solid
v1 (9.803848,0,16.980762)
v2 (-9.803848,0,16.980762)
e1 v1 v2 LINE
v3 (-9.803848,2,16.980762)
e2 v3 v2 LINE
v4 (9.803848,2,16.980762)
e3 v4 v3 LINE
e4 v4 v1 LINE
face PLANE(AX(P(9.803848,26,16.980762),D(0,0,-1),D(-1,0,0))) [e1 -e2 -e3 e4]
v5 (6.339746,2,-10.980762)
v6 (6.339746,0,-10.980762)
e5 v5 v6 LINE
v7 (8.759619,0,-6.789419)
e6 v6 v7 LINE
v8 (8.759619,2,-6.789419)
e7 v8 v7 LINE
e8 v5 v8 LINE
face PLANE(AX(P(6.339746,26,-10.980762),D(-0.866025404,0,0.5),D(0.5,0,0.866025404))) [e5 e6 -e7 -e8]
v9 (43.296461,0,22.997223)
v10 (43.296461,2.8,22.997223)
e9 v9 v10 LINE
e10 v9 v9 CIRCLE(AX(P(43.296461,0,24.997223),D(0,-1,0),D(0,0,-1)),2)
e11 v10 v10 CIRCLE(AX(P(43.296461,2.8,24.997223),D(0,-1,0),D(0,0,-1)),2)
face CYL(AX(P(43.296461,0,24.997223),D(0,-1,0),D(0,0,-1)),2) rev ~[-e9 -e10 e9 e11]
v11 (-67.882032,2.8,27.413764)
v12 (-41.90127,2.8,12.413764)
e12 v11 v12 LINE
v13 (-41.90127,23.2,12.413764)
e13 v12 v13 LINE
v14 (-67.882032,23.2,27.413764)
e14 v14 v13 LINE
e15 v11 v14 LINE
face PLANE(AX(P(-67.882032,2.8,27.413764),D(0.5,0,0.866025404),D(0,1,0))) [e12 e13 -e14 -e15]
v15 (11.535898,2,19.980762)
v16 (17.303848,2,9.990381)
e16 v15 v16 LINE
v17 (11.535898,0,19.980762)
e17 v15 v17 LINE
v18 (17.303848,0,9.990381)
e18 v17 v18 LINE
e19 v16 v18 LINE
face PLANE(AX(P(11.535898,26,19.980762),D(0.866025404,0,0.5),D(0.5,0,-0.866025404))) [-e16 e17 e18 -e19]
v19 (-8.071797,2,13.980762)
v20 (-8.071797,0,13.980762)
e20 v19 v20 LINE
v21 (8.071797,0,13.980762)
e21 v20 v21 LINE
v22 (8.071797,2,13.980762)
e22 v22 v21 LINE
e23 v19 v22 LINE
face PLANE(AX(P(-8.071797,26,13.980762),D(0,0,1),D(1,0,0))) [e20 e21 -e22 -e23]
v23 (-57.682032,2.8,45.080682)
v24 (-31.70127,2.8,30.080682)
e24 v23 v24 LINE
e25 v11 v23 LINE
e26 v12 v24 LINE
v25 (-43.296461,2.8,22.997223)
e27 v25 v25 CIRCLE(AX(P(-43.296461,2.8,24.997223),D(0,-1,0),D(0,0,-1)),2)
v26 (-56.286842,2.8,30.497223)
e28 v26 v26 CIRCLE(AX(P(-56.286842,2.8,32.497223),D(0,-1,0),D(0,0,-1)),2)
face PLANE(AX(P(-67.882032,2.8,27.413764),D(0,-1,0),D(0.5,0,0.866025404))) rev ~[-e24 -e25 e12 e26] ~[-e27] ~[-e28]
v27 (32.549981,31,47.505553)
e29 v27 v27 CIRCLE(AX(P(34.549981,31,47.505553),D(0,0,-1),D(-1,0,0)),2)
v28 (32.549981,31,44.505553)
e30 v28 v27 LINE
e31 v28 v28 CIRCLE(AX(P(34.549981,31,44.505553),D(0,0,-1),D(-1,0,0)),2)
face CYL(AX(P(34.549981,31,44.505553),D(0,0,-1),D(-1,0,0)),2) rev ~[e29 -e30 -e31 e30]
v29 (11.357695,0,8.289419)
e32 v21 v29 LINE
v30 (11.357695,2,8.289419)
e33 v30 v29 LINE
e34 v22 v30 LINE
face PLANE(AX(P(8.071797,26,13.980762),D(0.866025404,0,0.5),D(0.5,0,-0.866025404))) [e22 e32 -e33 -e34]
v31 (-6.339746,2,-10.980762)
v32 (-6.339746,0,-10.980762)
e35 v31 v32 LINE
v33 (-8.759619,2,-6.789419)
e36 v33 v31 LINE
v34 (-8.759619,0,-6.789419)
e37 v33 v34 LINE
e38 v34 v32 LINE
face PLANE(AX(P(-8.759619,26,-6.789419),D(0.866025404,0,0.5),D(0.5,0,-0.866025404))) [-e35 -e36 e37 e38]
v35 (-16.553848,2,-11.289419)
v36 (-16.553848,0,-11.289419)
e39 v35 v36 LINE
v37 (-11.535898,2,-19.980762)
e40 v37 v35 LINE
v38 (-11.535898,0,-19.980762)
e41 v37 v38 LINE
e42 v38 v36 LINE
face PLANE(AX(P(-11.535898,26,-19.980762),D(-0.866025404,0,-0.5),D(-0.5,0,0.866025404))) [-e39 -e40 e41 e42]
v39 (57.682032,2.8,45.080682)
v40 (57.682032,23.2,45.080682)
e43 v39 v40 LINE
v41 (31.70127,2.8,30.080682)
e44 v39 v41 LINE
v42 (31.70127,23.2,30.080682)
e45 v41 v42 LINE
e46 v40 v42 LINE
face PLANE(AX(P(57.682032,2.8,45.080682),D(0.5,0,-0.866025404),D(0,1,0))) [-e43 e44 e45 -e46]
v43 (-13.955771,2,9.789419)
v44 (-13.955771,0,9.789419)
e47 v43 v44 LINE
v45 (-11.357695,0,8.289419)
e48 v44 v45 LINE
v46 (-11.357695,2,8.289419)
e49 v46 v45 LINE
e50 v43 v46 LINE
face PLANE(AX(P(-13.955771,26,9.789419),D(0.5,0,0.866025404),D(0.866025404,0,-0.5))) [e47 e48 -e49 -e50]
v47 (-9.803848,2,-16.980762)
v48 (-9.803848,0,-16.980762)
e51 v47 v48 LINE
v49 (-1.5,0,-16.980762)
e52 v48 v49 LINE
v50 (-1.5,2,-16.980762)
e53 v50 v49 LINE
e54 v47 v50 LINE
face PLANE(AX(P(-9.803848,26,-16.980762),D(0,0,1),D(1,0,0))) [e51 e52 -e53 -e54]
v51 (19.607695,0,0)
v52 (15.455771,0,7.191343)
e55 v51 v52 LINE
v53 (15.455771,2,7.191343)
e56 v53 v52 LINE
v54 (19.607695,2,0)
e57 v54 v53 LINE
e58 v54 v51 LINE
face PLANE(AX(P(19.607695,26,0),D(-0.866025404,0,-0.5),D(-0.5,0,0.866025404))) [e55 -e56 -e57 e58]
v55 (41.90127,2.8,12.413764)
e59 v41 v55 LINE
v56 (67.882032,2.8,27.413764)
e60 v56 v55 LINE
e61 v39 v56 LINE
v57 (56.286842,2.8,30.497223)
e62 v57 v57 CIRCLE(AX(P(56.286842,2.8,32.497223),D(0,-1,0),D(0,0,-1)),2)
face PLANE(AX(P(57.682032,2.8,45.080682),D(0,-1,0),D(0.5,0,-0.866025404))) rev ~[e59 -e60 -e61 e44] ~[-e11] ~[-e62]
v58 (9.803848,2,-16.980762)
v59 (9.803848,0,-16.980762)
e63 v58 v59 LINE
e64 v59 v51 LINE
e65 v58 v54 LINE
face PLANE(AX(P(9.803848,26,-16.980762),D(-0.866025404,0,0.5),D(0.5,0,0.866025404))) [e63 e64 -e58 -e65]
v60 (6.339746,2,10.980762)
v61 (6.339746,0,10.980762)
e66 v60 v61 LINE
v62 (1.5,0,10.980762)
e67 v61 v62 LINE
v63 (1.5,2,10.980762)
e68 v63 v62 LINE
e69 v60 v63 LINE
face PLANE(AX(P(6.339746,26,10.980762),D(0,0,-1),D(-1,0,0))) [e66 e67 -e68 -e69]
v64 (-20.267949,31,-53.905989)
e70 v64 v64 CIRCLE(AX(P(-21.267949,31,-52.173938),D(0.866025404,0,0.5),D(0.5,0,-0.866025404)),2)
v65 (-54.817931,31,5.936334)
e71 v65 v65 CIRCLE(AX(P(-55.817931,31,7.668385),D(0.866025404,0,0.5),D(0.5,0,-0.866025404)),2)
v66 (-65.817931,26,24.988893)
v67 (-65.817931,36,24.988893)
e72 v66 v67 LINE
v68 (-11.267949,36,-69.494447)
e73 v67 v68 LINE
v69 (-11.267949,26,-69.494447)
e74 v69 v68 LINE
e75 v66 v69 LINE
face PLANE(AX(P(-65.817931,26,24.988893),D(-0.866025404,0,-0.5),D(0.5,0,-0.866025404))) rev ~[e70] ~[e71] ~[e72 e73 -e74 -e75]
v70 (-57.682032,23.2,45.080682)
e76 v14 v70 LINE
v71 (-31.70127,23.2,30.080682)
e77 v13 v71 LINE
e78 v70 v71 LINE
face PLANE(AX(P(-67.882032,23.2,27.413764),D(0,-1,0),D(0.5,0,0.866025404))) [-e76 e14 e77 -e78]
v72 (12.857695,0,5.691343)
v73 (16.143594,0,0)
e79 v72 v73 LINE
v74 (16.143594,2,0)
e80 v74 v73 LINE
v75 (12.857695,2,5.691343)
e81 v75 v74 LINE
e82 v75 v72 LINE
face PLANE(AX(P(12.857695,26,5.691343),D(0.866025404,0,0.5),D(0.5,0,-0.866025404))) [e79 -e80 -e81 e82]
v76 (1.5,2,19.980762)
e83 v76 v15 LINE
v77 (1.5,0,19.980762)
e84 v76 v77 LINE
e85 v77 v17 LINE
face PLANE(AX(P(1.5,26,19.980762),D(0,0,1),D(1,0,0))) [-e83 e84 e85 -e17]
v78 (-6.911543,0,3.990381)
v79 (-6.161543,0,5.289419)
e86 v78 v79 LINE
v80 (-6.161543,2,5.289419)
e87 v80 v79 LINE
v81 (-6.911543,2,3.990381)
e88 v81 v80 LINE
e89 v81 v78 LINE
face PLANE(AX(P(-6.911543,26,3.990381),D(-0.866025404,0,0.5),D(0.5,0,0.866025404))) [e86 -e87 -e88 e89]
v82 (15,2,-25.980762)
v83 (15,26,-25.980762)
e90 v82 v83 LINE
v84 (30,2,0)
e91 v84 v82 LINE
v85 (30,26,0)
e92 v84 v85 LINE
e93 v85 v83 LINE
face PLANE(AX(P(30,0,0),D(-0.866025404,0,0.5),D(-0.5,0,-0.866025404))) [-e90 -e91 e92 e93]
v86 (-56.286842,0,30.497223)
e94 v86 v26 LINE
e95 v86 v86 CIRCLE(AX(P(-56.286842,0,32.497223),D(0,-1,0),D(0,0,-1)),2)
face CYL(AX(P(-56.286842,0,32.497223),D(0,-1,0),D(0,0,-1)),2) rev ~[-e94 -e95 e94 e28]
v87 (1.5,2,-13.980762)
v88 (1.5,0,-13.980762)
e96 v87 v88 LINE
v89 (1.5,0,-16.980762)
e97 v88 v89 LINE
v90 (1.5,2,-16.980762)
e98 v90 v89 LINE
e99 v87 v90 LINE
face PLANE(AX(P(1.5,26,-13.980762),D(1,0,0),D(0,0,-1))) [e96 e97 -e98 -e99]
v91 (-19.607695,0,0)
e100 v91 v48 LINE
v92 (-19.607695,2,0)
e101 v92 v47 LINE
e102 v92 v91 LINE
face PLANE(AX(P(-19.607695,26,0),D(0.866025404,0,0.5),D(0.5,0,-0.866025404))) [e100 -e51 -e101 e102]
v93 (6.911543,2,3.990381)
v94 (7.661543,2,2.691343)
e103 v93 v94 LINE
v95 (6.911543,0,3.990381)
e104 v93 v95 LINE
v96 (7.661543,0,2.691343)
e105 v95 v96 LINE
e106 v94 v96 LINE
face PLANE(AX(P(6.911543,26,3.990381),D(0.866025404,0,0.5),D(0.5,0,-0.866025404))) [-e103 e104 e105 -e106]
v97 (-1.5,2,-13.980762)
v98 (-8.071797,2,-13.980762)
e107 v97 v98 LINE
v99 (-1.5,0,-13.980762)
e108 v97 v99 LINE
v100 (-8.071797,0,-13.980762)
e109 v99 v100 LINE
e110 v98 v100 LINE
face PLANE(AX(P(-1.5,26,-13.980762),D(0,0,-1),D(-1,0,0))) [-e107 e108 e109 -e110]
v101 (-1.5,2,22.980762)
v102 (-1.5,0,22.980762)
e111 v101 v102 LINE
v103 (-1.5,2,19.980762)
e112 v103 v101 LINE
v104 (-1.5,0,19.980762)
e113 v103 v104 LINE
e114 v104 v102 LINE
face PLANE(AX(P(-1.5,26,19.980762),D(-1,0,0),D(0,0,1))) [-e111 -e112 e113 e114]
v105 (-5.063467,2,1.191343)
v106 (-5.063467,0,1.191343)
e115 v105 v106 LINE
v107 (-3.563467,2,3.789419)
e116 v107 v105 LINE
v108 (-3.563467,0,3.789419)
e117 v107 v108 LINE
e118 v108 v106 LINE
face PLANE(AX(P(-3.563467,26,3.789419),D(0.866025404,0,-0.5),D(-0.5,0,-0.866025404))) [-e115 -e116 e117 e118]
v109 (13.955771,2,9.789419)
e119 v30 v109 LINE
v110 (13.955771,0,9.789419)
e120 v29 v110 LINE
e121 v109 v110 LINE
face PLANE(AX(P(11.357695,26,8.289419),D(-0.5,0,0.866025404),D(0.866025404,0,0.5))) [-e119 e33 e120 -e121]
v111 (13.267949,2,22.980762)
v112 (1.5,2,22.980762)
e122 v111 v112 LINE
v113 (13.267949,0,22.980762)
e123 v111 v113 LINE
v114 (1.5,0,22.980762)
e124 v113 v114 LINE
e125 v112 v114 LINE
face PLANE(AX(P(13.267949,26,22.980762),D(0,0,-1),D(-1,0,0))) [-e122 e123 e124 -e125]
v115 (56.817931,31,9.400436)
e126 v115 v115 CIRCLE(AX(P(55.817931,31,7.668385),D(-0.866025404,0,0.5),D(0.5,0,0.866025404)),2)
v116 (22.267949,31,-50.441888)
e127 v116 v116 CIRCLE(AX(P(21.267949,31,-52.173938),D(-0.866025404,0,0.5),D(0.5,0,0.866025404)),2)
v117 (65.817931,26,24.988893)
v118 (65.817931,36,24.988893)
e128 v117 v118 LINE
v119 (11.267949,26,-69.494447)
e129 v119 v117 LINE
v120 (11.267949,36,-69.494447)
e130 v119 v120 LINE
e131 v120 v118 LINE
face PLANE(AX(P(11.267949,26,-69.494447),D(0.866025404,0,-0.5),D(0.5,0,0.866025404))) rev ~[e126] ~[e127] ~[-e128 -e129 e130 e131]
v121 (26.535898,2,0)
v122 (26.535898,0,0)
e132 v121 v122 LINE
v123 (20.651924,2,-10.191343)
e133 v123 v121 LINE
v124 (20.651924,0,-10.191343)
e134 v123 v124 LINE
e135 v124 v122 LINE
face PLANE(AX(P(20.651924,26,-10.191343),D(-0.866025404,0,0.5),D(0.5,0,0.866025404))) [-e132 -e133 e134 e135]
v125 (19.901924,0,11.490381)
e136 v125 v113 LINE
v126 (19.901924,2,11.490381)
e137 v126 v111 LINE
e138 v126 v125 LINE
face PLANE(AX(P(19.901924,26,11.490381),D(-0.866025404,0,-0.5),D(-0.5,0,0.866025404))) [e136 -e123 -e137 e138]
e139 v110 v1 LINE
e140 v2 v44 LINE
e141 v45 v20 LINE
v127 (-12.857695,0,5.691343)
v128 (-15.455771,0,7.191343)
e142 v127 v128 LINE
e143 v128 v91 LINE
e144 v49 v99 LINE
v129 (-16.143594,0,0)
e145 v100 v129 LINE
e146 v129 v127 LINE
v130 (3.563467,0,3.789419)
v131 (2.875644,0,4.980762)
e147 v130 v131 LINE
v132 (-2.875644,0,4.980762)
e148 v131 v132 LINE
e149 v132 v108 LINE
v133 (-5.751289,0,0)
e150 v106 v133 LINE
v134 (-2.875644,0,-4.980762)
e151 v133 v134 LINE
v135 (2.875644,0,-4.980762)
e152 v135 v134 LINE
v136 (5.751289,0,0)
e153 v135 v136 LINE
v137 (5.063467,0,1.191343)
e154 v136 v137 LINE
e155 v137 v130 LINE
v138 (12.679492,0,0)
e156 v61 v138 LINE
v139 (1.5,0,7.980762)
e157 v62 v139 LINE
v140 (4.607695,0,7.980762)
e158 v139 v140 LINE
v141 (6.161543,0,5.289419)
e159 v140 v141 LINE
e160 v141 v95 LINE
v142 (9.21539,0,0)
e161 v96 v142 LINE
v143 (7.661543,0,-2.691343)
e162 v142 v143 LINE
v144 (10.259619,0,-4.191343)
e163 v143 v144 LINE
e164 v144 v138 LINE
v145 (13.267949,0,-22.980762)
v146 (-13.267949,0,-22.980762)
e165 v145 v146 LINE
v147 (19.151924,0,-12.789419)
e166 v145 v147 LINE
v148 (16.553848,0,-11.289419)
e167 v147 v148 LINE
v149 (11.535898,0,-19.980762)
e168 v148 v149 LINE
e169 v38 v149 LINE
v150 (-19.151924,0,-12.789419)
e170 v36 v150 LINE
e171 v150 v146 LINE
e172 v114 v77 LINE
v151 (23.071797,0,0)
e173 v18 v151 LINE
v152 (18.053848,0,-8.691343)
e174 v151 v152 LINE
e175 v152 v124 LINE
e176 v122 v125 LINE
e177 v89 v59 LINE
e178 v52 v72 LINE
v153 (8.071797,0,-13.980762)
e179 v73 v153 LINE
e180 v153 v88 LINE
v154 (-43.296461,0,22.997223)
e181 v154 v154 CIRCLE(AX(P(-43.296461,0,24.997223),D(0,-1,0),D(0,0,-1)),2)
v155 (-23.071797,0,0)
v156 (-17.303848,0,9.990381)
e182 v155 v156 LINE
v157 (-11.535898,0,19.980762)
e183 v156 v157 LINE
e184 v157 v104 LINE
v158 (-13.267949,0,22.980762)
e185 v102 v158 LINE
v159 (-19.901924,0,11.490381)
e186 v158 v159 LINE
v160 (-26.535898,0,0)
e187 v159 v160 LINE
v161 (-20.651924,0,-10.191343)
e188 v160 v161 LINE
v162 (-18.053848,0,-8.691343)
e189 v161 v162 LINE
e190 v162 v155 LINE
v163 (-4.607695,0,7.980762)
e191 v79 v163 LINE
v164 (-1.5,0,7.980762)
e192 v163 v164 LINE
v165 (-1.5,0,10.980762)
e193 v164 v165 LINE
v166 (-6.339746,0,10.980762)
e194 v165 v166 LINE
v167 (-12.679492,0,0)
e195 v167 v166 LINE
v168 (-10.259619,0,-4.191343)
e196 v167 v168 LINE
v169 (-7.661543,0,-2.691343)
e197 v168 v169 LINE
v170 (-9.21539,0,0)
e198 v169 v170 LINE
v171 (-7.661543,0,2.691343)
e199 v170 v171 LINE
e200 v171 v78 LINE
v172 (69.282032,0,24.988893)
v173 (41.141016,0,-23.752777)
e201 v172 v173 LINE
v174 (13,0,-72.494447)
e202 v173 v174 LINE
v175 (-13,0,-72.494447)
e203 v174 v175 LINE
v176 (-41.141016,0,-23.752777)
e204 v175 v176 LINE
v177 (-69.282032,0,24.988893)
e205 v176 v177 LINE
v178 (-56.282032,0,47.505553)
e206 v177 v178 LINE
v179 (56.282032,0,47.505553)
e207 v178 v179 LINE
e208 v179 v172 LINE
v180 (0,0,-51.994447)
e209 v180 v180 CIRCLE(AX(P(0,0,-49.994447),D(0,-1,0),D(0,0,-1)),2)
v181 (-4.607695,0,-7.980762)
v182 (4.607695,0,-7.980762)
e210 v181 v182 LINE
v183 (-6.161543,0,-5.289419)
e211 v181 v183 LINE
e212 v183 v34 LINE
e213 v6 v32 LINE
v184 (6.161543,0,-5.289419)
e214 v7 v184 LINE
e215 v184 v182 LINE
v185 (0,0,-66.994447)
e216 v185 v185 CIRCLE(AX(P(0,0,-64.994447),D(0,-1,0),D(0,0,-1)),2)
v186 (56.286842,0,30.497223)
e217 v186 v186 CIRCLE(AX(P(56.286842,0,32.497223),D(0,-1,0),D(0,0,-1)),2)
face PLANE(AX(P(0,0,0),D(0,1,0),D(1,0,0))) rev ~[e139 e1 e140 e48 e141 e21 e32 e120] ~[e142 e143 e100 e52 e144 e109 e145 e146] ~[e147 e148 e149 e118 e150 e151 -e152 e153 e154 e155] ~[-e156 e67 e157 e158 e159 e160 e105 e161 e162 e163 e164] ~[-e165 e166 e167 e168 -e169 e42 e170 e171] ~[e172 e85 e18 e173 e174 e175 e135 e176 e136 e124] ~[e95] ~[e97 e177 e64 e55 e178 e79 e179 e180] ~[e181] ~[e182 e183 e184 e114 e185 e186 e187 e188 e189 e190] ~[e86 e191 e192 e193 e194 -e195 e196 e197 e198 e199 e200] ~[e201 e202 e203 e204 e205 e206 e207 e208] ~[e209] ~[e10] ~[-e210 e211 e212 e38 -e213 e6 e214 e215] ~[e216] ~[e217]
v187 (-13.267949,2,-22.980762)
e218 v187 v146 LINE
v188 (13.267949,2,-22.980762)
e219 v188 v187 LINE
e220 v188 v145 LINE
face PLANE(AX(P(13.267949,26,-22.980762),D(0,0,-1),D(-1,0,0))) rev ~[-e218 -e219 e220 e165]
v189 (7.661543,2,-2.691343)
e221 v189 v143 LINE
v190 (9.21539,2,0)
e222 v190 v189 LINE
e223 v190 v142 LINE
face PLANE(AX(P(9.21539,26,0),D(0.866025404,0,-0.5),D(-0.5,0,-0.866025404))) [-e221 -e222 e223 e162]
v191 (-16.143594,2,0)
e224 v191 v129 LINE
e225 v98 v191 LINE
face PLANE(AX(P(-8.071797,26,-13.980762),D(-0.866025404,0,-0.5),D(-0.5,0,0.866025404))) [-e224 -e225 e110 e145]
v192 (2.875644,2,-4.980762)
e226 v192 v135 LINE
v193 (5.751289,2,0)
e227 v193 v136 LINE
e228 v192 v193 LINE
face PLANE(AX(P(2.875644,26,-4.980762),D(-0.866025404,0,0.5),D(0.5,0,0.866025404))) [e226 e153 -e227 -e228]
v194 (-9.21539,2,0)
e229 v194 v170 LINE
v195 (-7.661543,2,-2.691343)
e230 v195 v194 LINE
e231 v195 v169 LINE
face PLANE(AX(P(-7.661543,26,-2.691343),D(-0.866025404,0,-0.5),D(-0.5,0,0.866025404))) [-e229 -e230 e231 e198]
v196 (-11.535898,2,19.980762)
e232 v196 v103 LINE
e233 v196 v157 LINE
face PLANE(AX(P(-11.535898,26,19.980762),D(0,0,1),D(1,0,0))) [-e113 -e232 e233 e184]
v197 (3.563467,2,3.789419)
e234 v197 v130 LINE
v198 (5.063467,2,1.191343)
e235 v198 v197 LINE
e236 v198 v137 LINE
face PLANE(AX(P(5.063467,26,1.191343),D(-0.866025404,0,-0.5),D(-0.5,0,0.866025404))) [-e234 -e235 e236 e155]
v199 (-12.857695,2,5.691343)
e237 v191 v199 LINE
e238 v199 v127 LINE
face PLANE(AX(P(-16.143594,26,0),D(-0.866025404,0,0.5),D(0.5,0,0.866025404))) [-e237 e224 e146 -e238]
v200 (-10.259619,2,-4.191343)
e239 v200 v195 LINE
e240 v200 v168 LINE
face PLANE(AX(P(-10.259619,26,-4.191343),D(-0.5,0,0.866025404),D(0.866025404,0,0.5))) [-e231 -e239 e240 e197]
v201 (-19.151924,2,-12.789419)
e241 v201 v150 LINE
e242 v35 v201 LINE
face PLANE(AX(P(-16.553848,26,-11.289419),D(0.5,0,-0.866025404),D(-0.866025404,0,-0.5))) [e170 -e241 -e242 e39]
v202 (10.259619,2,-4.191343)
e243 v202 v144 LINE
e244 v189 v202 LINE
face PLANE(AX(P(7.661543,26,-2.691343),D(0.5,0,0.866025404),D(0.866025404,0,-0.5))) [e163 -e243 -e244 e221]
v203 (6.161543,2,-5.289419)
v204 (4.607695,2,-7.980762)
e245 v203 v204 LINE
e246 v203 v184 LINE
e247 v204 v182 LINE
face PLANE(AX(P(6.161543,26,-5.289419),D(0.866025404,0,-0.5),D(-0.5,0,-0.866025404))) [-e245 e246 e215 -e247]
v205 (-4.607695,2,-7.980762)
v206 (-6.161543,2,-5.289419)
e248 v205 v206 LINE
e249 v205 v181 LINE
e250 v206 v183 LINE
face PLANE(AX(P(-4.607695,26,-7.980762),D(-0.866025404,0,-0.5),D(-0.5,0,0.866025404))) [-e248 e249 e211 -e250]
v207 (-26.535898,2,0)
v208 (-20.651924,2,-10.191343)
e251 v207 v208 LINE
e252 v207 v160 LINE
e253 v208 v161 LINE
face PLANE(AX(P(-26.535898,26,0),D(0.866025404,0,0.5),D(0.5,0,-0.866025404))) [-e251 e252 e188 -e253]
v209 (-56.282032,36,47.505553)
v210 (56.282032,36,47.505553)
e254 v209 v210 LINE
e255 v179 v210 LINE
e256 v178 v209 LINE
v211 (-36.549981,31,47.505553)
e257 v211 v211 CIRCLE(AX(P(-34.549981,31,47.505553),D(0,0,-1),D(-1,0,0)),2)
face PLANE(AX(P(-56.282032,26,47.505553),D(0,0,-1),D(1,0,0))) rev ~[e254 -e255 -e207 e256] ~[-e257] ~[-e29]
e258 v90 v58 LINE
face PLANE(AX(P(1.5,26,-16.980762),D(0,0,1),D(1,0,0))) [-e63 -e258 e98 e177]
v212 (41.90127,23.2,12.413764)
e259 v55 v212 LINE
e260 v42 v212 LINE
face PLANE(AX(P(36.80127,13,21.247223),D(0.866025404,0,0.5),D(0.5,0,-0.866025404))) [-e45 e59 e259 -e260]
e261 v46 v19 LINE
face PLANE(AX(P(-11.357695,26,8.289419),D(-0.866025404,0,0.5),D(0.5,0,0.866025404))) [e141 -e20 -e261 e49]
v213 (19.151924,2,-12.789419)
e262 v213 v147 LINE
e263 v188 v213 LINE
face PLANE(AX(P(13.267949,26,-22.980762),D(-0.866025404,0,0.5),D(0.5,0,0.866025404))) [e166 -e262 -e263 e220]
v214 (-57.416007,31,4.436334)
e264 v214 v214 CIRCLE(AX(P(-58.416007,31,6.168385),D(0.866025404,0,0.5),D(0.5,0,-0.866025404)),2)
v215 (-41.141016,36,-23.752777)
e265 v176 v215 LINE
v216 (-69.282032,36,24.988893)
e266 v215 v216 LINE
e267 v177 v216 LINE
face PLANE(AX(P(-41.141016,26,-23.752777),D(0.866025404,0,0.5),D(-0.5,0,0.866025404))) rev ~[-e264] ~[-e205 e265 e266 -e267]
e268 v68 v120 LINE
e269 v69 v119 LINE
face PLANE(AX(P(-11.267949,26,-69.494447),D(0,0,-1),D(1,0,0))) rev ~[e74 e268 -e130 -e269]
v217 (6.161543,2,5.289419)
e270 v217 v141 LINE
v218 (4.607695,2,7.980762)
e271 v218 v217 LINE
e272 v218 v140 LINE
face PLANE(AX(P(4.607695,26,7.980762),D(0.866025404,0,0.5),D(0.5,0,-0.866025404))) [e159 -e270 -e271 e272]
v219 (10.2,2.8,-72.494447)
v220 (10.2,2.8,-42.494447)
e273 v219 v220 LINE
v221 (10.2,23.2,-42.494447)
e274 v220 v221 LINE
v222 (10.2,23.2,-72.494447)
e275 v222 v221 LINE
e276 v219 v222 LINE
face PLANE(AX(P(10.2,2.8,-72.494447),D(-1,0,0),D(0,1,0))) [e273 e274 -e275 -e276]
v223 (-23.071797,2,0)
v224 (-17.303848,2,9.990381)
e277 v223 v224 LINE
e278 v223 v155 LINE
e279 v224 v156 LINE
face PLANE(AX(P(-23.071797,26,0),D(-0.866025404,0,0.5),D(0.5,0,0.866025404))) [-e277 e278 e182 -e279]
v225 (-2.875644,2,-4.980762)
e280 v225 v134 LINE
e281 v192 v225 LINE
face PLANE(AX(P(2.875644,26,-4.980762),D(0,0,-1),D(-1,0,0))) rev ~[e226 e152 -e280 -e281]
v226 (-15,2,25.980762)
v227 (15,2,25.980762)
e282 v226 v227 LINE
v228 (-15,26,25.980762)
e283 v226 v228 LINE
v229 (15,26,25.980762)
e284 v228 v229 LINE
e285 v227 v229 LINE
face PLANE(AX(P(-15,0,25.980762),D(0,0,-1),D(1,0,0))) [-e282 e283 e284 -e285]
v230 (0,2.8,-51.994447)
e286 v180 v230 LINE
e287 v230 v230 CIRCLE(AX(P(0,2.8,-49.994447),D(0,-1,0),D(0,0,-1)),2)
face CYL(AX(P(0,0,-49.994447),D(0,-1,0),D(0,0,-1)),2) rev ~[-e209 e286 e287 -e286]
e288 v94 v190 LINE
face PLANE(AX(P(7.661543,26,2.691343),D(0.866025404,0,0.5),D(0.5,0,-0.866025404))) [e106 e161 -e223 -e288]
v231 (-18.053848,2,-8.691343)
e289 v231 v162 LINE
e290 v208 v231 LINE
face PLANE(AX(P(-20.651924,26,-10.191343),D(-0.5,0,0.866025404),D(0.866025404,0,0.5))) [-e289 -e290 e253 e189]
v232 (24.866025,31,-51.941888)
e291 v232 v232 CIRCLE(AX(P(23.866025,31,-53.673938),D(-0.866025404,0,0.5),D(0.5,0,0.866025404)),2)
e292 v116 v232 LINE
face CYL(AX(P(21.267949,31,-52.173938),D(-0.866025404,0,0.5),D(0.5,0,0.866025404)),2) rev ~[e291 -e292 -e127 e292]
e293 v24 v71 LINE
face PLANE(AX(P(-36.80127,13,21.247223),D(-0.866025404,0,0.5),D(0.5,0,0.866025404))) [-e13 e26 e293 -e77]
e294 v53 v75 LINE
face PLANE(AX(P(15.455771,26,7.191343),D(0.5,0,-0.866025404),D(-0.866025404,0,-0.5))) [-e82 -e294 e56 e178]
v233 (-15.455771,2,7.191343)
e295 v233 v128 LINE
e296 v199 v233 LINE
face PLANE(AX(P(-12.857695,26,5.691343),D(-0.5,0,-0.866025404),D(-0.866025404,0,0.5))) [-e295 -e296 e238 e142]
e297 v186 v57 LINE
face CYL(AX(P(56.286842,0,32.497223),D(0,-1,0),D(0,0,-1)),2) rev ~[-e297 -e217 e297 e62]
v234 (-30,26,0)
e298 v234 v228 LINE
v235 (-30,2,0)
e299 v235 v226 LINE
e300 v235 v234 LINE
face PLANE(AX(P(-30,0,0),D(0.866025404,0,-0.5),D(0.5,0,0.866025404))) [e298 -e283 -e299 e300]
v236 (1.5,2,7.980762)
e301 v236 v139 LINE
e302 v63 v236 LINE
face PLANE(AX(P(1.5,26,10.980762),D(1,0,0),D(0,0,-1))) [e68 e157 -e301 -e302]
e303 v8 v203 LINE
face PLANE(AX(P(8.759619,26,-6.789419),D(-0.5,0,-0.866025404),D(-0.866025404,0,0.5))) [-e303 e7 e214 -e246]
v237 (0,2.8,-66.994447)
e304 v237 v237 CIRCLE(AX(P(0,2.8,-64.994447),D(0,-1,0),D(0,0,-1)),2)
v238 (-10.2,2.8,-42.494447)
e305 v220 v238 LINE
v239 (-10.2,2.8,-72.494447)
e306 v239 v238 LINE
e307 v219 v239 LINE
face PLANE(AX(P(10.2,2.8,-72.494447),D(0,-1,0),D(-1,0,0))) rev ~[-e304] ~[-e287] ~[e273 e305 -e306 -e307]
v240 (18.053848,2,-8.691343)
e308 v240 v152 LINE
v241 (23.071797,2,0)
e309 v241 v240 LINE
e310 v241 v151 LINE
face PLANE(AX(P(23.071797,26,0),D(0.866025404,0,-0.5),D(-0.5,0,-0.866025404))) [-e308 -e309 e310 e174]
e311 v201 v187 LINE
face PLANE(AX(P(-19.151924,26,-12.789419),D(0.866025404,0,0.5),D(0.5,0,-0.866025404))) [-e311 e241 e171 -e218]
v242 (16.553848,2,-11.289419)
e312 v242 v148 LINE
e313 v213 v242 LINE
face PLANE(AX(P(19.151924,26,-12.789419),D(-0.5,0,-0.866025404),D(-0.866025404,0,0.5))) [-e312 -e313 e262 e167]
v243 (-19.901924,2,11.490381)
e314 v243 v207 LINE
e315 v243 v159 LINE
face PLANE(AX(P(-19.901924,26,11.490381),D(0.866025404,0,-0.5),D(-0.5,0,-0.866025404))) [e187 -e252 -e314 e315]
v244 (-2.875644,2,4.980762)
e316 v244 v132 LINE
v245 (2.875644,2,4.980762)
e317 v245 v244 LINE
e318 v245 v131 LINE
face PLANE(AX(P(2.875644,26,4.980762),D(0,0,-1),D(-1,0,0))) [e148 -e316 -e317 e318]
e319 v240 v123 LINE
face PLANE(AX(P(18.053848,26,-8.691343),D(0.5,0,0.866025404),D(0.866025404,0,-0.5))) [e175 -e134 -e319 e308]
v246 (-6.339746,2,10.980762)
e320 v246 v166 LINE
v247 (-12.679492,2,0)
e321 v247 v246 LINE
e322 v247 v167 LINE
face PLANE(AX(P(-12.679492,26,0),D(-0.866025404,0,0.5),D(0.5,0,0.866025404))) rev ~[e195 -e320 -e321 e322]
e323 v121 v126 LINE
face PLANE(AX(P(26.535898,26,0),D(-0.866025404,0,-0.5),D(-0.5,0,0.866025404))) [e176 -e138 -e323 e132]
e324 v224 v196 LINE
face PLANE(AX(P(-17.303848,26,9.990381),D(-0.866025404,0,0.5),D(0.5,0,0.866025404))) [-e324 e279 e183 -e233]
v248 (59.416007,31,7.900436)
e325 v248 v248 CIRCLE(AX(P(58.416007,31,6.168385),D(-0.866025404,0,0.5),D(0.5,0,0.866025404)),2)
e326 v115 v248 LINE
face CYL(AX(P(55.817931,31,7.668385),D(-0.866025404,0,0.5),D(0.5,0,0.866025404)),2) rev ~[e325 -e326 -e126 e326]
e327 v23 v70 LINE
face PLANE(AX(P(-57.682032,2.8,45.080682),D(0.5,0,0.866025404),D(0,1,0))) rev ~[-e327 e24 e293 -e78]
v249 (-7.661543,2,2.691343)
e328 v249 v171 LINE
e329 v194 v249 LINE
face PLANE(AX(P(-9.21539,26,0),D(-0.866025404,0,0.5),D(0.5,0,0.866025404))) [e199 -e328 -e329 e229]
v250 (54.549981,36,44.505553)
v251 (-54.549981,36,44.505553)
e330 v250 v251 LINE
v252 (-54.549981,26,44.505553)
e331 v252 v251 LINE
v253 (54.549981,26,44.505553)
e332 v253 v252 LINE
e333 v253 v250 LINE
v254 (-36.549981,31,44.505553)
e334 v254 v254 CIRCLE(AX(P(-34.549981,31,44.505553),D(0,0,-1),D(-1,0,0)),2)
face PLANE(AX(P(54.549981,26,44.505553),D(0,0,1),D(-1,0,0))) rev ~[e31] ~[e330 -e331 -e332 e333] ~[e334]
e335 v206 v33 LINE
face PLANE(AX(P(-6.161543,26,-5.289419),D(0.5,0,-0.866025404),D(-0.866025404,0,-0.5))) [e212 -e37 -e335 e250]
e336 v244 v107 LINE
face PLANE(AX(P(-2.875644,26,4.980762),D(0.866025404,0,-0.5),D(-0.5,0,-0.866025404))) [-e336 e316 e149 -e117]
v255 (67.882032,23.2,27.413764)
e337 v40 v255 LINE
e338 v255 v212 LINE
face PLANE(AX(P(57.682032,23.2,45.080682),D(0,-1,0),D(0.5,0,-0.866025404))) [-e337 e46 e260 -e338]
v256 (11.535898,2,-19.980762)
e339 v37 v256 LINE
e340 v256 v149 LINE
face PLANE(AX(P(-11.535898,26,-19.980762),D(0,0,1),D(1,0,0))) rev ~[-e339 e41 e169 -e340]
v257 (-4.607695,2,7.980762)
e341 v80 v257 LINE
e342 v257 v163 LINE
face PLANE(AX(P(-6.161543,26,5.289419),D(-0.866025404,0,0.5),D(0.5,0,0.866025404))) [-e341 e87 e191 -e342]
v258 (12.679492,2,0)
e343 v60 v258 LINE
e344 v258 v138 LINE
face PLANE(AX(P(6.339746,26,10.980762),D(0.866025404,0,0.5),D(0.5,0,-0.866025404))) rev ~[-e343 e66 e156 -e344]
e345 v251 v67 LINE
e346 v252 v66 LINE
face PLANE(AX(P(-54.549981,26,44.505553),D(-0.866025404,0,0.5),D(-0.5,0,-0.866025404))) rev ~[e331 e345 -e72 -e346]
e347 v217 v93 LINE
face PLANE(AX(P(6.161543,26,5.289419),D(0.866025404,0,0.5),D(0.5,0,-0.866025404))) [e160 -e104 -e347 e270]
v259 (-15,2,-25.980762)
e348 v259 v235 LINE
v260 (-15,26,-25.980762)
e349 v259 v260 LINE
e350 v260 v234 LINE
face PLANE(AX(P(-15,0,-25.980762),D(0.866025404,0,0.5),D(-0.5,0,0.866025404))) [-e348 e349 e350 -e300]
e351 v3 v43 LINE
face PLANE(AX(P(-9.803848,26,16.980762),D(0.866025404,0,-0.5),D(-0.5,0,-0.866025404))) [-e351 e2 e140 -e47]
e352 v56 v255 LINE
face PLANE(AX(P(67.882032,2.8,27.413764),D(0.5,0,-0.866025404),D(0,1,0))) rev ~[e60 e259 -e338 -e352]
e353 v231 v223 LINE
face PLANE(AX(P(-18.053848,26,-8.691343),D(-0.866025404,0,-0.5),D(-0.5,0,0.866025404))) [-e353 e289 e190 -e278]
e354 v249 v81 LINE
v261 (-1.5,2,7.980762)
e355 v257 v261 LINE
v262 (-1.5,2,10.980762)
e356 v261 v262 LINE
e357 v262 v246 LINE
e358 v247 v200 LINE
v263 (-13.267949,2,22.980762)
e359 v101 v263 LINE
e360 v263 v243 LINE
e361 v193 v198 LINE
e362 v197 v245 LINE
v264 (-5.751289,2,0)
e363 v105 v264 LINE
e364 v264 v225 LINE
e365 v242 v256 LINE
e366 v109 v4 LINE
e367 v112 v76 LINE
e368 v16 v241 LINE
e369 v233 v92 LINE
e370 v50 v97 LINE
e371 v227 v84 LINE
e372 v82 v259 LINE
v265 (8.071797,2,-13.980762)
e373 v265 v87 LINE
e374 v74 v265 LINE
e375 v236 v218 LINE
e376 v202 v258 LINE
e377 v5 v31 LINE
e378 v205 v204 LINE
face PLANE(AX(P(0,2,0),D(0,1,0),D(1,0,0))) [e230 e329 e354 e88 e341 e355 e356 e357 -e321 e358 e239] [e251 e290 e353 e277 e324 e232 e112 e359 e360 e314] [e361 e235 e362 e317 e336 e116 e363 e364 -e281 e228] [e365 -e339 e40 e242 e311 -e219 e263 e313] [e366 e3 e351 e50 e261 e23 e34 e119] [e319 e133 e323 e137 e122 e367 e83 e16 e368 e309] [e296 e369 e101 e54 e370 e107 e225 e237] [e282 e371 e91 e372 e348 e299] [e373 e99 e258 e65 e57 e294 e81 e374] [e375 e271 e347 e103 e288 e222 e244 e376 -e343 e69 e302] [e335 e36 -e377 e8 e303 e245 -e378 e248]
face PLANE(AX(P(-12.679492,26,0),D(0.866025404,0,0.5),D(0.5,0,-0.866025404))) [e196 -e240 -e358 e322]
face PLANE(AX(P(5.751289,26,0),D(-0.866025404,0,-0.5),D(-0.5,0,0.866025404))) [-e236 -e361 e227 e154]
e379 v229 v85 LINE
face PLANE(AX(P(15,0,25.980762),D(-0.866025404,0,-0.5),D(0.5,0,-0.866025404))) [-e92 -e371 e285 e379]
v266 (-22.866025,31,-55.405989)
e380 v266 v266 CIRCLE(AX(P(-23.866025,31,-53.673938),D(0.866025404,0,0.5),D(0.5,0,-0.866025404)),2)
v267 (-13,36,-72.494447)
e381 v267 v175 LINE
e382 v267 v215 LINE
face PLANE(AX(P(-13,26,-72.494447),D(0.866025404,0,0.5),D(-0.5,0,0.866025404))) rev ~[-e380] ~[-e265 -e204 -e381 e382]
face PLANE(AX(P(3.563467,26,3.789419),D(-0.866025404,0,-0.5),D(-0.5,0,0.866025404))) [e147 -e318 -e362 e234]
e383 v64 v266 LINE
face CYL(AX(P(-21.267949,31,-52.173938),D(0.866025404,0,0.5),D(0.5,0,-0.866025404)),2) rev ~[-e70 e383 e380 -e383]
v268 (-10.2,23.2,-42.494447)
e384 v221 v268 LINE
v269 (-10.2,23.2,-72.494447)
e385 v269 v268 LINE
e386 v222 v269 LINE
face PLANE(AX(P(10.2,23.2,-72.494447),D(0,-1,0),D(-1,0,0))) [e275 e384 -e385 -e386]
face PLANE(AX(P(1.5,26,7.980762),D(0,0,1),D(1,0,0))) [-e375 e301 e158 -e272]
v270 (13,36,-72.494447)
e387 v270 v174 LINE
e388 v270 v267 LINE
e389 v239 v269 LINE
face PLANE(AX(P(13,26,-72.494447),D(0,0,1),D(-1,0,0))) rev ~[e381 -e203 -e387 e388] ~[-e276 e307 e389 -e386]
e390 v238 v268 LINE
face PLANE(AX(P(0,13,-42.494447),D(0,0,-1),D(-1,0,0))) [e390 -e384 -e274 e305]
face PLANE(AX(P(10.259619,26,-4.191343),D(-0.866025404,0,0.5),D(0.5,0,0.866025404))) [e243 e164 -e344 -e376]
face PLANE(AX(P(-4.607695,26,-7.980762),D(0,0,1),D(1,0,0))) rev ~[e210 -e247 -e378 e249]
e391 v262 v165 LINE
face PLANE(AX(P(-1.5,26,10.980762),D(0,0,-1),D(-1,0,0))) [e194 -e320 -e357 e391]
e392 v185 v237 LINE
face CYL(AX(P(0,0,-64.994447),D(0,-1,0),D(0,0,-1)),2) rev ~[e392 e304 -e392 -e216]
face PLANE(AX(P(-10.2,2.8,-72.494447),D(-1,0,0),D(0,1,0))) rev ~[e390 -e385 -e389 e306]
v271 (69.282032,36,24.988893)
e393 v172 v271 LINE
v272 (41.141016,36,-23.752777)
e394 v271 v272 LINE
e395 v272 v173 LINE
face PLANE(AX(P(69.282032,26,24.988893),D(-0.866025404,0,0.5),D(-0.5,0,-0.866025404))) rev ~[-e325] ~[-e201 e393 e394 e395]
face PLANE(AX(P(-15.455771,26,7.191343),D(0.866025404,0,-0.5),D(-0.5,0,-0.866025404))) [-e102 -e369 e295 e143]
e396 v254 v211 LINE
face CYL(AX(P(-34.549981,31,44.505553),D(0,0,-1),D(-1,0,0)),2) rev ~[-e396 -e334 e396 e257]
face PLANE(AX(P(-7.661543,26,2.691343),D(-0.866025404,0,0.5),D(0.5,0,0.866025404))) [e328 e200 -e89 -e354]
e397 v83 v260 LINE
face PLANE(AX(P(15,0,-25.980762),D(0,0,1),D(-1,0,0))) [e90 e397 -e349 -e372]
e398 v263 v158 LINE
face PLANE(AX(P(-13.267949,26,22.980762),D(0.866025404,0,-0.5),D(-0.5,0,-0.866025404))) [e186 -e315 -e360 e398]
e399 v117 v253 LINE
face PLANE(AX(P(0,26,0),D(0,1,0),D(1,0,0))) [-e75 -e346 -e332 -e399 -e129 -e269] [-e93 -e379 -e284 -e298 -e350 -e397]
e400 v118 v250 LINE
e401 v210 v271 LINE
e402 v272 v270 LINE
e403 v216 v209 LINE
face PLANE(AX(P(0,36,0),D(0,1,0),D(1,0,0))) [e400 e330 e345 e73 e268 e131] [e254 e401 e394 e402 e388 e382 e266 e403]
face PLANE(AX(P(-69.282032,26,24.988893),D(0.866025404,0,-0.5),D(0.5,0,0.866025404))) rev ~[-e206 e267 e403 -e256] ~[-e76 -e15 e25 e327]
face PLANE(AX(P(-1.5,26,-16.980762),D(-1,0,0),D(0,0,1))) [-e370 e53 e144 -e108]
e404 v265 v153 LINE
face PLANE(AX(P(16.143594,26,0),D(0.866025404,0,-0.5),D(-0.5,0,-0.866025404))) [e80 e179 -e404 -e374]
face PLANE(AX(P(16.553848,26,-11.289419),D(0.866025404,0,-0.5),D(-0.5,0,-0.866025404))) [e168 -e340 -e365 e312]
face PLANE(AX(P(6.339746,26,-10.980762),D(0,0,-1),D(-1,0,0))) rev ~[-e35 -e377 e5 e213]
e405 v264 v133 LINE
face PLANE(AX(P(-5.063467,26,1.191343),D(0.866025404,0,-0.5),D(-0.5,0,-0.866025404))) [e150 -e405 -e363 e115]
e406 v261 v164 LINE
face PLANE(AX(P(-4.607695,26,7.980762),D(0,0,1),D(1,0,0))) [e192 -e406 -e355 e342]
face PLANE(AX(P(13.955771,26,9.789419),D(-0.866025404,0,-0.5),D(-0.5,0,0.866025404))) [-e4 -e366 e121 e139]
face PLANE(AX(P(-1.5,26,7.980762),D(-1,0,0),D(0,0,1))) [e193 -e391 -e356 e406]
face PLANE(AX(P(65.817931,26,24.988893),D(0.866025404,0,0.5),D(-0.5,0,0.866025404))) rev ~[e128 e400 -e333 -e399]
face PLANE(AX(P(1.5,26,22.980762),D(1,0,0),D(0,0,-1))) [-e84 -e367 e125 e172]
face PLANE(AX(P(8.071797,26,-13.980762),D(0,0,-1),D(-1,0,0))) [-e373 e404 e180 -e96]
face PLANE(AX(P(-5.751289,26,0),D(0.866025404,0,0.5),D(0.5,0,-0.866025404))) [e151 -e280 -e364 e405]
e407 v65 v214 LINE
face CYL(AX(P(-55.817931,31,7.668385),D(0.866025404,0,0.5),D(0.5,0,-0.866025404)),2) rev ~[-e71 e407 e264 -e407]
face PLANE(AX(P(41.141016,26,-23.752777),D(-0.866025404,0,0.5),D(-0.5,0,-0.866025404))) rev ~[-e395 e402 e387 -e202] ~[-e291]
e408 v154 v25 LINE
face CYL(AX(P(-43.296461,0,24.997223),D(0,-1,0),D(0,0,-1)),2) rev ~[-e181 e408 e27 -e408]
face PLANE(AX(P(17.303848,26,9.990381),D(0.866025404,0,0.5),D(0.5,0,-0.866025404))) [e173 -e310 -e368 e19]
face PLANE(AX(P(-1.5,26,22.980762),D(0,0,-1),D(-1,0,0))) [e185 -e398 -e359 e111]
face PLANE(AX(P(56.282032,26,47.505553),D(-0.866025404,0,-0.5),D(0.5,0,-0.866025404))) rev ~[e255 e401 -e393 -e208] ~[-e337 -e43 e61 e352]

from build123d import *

# Parameters (mm, degrees)
BOSS_EXTRUDE1_DEPTH = 2
BOSS_EXTRUDE2_DEPTH = 26
SKETCH2_W           = 20.4
SKETCH2_H           = 20.4
CUT_EXTRUDE1_DEPTH  = 30
CIRPATTERN1_COUNT   = 3
CUT_EXTRUDE2_DEPTH  = 104.592686872
SKETCH4_R           = 2
CUT_EXTRUDE3_DEPTH  = 10
BOSS_EXTRUDE4_START = 26
BOSS_EXTRUDE4_DEPTH = 10
SKETCH5_R           = 2
CUT_EXTRUDE4_DEPTH  = 10
CIRPATTERN2_COUNT   = 3


with BuildPart() as part:
    # Sketch1 → Boss-Extrude1 (new body)
    with BuildSketch(Plane(origin=(0, 0, 0), x_dir=(1, 0, 0), z_dir=(0, 1, 0))):
        Polygon((15, -25.980762114), (30, 0), (15, 25.980762114), (-15, 25.980762114), (-30, 0), (-15, -25.980762114), align=None)
    extrude(amount=BOSS_EXTRUDE1_DEPTH)

    # Sketch1<3> → Boss-Extrude2 (add)
    # profile 1 of 2: a face of its own
    with BuildSketch(Plane(origin=(0, 0, 0), x_dir=(1, 0, 0), z_dir=(0, 1, 0))):
        Polygon((-13, 72.494446501), (-41.141016151, 23.75277675), (-69.282032303, -24.988893001), (-56.282032303, -47.505553499), (0, -47.505553499), (56.282032303, -47.505553499), (69.282032303, -24.988893001), (41.141016151, 23.75277675), (13, 72.494446501), align=None)
        Polygon((-54.549981495, -44.505553499), (-65.817930688, -24.988893001), (-38.54293994, 22.25277675), (-11.267949192, 69.494446501), (11.267949192, 69.494446501), (38.54293994, 22.25277675), (65.817930688, -24.988893001), (54.549981495, -44.505553499), (0, -44.505553499), align=None, mode=Mode.SUBTRACT)
    # profile 2 of 2: a face of its own
    with BuildSketch(Plane(origin=(0, 0, 0), x_dir=(1, 0, 0), z_dir=(0, 1, 0))):
        Polygon((-65.817930688, -24.988893001), (-38.54293994, 22.25277675), (-11.267949192, 69.494446501), (11.267949192, 69.494446501), (38.54293994, 22.25277675), (65.817930688, -24.988893001), (54.549981495, -44.505553499), (0, -44.505553499), (-54.549981495, -44.505553499), align=None)
        Polygon((30, 0), (15, 25.980762114), (-15, 25.980762114), (-30, 0), (-15, -25.980762114), (15, -25.980762114), align=None, mode=Mode.SUBTRACT)
    extrude(amount=BOSS_EXTRUDE2_DEPTH)

    # Sketch2 → Cut-Extrude1 (cut)
    with BuildSketch(Plane(origin=(62.782032303, 0, 36.24722325), x_dir=(0.499999999999999, 0, -0.8660254037844394), z_dir=(0.8660254037844394, 0, 0.499999999999999))):
        with Locations((0, 13)):
            Rectangle(SKETCH2_W, SKETCH2_H)
    cut_extrude1 = extrude(amount=-CUT_EXTRUDE1_DEPTH, mode=Mode.SUBTRACT)

    # CirPattern1: Cut-Extrude1 ×3 about axis
    cirpattern1_axis = Axis((0, 0, 0), (0, 1, 0))
    for i in range(1, CIRPATTERN1_COUNT):
        add(cut_extrude1.rotate(cirpattern1_axis, i * 360 / CIRPATTERN1_COUNT), mode=Mode.SUBTRACT)

    # Sketch3 → Cut-Extrude2 (cut, through all)
    with BuildSketch(Plane(origin=(0, 26, 0), x_dir=(1, 0, 0), z_dir=(0, 1, 0))):
        Polygon((-5.063466521, -1.191342951), (-5.751288694, 0), (-2.875644347, 4.980762114), (-1.5, 4.980762114), (1.5, 4.980762114), (2.875644347, 4.980762114), (5.751288694, 0), (5.063466521, -1.191342951), (3.563466521, -3.789419162), (2.875644347, -4.980762114), (-2.875644347, -4.980762114), (-3.563466521, -3.789419162), align=None)
        Polygon((6.161542732, -5.289419162), (6.911542732, -3.990381057), (7.661542732, -2.691342951), (9.215390309, 0), (7.661542732, 2.691342951), (10.259618943, 4.191342951), (12.679491924, 0), (9.509618943, -5.490381057), (6.339745962, -10.980762114), (1.5, -10.980762114), (1.5, -7.980762114), (4.607695155, -7.980762114), align=None)
        Polygon((-6.339745962, 10.980762114), (0, 10.980762114), (6.339745962, 10.980762114), (8.759618943, 6.789419162), (6.161542732, 5.289419162), (4.607695155, 7.980762114), (1.5, 7.980762114), (0, 7.980762114), (-1.5, 7.980762114), (-4.607695155, 7.980762114), (-6.161542732, 5.289419162), (-8.759618943, 6.789419162), align=None)
        Polygon((-7.661542732, -2.691342951), (-6.911542732, -3.990381057), (-6.161542732, -5.289419162), (-4.607695155, -7.980762114), (-1.5, -7.980762114), (-1.5, -10.980762114), (-6.339745962, -10.980762114), (-9.509618943, -5.490381057), (-12.679491924, 0), (-10.259618943, 4.191342951), (-7.661542732, 2.691342951), (-9.215390309, 0), align=None)
        Polygon((-9.803847577, -16.980762114), (-13.955771366, -9.789419162), (-11.357695155, -8.289419162), (-8.07179677, -13.980762114), (8.07179677, -13.980762114), (11.357695155, -8.289419162), (13.955771366, -9.789419162), (9.803847577, -16.980762114), align=None)
        Polygon((19.607695155, 0), (15.455771366, -7.191342951), (12.857695155, -5.691342951), (16.143593539, 0), (8.07179677, 13.980762114), (1.5, 13.980762114), (1.5, 16.980762114), (9.803847577, 16.980762114), align=None)
        Polygon((-9.803847577, 16.980762114), (-1.5, 16.980762114), (-1.5, 13.980762114), (-8.07179677, 13.980762114), (-16.143593539, 0), (-12.857695155, -5.691342951), (-15.455771366, -7.191342951), (-19.607695155, 0), align=None)
        Polygon((0, 22.980762114), (13.267949192, 22.980762114), (19.151923789, 12.789419162), (16.553847577, 11.289419162), (11.535898385, 19.980762114), (0, 19.980762114), (-11.535898385, 19.980762114), (-16.553847577, 11.289419162), (-19.151923789, 12.789419162), (-13.267949192, 22.980762114), align=None)
        Polygon((-23.07179677, 0), (-17.303847577, -9.990381057), (-11.535898385, -19.980762114), (-1.5, -19.980762114), (-1.5, -22.980762114), (-13.267949192, -22.980762114), (-19.901923789, -11.490381057), (-26.535898385, 0), (-20.651923789, 10.191342951), (-18.053847577, 8.691342951), align=None)
        Polygon((11.535898385, -19.980762114), (17.303847577, -9.990381057), (23.07179677, 0), (18.053847577, 8.691342951), (20.651923789, 10.191342951), (26.535898385, 0), (19.901923789, -11.490381057), (13.267949192, -22.980762114), (1.5, -22.980762114), (1.5, -19.980762114), align=None)
    extrude(amount=-CUT_EXTRUDE2_DEPTH, mode=Mode.SUBTRACT)

    # Sketch4 → Cut-Extrude3 (cut)
    with BuildSketch(Plane.XZ):
        with Locations(Location((0, -64.994446501, 0), (0, 0, 270))):
            Circle(SKETCH4_R)
        with Locations(Location((0, -49.994446501, 0), (0, 0, 270))):
            Circle(SKETCH4_R)
        with Locations(Location((-56.286841774, 32.49722325, 0), (0, 0, 270))):
            Circle(SKETCH4_R)
        with Locations(Location((-43.296460718, 24.99722325, 0), (0, 0, 270))):
            Circle(SKETCH4_R)
        with Locations(Location((56.286841774, 32.49722325, 0), (0, 0, 270))):
            Circle(SKETCH4_R)
        with Locations(Location((43.296460718, 24.99722325, 0), (0, 0, 270))):
            Circle(SKETCH4_R)
    extrude(amount=-CUT_EXTRUDE3_DEPTH, mode=Mode.SUBTRACT)

    # Sketch1<5> → Boss-Extrude4 (add)
    with BuildSketch(Plane(origin=(0, 0, 0), x_dir=(1, 0, 0), z_dir=(0, 1, 0)).offset(BOSS_EXTRUDE4_START)):
        Polygon((-13, 72.494446501), (-41.141016151, 23.75277675), (-69.282032303, -24.988893001), (-56.282032303, -47.505553499), (0, -47.505553499), (56.282032303, -47.505553499), (69.282032303, -24.988893001), (41.141016151, 23.75277675), (13, 72.494446501), align=None)
        Polygon((-54.549981495, -44.505553499), (-65.817930688, -24.988893001), (-38.54293994, 22.25277675), (-11.267949192, 69.494446501), (11.267949192, 69.494446501), (38.54293994, 22.25277675), (65.817930688, -24.988893001), (54.549981495, -44.505553499), (0, -44.505553499), align=None, mode=Mode.SUBTRACT)
    extrude(amount=BOSS_EXTRUDE4_DEPTH)

    # Sketch5 → Cut-Extrude4 (cut)
    with BuildSketch(Plane(origin=(-38.54293994, 0, -22.25277675), x_dir=(0.4999999999999866, 0, -0.8660254037844465), z_dir=(0.8660254037844464, 0, 0.49999999999998657))):
        with Locations((-34.549981495, 31)):
            Circle(SKETCH5_R)
        with Locations((34.549981495, 31)):
            Circle(SKETCH5_R)
    cut_extrude4 = extrude(amount=-CUT_EXTRUDE4_DEPTH, mode=Mode.SUBTRACT)

    # CirPattern2: Cut-Extrude4 ×3 about axis
    cirpattern2_axis = Axis((0, 27.3, 0), (0, -1, 0))
    for i in range(1, CIRPATTERN2_COUNT):
        add(cut_extrude4.rotate(cirpattern2_axis, i * 360 / CIRPATTERN2_COUNT), mode=Mode.SUBTRACT)


solid = part.part
